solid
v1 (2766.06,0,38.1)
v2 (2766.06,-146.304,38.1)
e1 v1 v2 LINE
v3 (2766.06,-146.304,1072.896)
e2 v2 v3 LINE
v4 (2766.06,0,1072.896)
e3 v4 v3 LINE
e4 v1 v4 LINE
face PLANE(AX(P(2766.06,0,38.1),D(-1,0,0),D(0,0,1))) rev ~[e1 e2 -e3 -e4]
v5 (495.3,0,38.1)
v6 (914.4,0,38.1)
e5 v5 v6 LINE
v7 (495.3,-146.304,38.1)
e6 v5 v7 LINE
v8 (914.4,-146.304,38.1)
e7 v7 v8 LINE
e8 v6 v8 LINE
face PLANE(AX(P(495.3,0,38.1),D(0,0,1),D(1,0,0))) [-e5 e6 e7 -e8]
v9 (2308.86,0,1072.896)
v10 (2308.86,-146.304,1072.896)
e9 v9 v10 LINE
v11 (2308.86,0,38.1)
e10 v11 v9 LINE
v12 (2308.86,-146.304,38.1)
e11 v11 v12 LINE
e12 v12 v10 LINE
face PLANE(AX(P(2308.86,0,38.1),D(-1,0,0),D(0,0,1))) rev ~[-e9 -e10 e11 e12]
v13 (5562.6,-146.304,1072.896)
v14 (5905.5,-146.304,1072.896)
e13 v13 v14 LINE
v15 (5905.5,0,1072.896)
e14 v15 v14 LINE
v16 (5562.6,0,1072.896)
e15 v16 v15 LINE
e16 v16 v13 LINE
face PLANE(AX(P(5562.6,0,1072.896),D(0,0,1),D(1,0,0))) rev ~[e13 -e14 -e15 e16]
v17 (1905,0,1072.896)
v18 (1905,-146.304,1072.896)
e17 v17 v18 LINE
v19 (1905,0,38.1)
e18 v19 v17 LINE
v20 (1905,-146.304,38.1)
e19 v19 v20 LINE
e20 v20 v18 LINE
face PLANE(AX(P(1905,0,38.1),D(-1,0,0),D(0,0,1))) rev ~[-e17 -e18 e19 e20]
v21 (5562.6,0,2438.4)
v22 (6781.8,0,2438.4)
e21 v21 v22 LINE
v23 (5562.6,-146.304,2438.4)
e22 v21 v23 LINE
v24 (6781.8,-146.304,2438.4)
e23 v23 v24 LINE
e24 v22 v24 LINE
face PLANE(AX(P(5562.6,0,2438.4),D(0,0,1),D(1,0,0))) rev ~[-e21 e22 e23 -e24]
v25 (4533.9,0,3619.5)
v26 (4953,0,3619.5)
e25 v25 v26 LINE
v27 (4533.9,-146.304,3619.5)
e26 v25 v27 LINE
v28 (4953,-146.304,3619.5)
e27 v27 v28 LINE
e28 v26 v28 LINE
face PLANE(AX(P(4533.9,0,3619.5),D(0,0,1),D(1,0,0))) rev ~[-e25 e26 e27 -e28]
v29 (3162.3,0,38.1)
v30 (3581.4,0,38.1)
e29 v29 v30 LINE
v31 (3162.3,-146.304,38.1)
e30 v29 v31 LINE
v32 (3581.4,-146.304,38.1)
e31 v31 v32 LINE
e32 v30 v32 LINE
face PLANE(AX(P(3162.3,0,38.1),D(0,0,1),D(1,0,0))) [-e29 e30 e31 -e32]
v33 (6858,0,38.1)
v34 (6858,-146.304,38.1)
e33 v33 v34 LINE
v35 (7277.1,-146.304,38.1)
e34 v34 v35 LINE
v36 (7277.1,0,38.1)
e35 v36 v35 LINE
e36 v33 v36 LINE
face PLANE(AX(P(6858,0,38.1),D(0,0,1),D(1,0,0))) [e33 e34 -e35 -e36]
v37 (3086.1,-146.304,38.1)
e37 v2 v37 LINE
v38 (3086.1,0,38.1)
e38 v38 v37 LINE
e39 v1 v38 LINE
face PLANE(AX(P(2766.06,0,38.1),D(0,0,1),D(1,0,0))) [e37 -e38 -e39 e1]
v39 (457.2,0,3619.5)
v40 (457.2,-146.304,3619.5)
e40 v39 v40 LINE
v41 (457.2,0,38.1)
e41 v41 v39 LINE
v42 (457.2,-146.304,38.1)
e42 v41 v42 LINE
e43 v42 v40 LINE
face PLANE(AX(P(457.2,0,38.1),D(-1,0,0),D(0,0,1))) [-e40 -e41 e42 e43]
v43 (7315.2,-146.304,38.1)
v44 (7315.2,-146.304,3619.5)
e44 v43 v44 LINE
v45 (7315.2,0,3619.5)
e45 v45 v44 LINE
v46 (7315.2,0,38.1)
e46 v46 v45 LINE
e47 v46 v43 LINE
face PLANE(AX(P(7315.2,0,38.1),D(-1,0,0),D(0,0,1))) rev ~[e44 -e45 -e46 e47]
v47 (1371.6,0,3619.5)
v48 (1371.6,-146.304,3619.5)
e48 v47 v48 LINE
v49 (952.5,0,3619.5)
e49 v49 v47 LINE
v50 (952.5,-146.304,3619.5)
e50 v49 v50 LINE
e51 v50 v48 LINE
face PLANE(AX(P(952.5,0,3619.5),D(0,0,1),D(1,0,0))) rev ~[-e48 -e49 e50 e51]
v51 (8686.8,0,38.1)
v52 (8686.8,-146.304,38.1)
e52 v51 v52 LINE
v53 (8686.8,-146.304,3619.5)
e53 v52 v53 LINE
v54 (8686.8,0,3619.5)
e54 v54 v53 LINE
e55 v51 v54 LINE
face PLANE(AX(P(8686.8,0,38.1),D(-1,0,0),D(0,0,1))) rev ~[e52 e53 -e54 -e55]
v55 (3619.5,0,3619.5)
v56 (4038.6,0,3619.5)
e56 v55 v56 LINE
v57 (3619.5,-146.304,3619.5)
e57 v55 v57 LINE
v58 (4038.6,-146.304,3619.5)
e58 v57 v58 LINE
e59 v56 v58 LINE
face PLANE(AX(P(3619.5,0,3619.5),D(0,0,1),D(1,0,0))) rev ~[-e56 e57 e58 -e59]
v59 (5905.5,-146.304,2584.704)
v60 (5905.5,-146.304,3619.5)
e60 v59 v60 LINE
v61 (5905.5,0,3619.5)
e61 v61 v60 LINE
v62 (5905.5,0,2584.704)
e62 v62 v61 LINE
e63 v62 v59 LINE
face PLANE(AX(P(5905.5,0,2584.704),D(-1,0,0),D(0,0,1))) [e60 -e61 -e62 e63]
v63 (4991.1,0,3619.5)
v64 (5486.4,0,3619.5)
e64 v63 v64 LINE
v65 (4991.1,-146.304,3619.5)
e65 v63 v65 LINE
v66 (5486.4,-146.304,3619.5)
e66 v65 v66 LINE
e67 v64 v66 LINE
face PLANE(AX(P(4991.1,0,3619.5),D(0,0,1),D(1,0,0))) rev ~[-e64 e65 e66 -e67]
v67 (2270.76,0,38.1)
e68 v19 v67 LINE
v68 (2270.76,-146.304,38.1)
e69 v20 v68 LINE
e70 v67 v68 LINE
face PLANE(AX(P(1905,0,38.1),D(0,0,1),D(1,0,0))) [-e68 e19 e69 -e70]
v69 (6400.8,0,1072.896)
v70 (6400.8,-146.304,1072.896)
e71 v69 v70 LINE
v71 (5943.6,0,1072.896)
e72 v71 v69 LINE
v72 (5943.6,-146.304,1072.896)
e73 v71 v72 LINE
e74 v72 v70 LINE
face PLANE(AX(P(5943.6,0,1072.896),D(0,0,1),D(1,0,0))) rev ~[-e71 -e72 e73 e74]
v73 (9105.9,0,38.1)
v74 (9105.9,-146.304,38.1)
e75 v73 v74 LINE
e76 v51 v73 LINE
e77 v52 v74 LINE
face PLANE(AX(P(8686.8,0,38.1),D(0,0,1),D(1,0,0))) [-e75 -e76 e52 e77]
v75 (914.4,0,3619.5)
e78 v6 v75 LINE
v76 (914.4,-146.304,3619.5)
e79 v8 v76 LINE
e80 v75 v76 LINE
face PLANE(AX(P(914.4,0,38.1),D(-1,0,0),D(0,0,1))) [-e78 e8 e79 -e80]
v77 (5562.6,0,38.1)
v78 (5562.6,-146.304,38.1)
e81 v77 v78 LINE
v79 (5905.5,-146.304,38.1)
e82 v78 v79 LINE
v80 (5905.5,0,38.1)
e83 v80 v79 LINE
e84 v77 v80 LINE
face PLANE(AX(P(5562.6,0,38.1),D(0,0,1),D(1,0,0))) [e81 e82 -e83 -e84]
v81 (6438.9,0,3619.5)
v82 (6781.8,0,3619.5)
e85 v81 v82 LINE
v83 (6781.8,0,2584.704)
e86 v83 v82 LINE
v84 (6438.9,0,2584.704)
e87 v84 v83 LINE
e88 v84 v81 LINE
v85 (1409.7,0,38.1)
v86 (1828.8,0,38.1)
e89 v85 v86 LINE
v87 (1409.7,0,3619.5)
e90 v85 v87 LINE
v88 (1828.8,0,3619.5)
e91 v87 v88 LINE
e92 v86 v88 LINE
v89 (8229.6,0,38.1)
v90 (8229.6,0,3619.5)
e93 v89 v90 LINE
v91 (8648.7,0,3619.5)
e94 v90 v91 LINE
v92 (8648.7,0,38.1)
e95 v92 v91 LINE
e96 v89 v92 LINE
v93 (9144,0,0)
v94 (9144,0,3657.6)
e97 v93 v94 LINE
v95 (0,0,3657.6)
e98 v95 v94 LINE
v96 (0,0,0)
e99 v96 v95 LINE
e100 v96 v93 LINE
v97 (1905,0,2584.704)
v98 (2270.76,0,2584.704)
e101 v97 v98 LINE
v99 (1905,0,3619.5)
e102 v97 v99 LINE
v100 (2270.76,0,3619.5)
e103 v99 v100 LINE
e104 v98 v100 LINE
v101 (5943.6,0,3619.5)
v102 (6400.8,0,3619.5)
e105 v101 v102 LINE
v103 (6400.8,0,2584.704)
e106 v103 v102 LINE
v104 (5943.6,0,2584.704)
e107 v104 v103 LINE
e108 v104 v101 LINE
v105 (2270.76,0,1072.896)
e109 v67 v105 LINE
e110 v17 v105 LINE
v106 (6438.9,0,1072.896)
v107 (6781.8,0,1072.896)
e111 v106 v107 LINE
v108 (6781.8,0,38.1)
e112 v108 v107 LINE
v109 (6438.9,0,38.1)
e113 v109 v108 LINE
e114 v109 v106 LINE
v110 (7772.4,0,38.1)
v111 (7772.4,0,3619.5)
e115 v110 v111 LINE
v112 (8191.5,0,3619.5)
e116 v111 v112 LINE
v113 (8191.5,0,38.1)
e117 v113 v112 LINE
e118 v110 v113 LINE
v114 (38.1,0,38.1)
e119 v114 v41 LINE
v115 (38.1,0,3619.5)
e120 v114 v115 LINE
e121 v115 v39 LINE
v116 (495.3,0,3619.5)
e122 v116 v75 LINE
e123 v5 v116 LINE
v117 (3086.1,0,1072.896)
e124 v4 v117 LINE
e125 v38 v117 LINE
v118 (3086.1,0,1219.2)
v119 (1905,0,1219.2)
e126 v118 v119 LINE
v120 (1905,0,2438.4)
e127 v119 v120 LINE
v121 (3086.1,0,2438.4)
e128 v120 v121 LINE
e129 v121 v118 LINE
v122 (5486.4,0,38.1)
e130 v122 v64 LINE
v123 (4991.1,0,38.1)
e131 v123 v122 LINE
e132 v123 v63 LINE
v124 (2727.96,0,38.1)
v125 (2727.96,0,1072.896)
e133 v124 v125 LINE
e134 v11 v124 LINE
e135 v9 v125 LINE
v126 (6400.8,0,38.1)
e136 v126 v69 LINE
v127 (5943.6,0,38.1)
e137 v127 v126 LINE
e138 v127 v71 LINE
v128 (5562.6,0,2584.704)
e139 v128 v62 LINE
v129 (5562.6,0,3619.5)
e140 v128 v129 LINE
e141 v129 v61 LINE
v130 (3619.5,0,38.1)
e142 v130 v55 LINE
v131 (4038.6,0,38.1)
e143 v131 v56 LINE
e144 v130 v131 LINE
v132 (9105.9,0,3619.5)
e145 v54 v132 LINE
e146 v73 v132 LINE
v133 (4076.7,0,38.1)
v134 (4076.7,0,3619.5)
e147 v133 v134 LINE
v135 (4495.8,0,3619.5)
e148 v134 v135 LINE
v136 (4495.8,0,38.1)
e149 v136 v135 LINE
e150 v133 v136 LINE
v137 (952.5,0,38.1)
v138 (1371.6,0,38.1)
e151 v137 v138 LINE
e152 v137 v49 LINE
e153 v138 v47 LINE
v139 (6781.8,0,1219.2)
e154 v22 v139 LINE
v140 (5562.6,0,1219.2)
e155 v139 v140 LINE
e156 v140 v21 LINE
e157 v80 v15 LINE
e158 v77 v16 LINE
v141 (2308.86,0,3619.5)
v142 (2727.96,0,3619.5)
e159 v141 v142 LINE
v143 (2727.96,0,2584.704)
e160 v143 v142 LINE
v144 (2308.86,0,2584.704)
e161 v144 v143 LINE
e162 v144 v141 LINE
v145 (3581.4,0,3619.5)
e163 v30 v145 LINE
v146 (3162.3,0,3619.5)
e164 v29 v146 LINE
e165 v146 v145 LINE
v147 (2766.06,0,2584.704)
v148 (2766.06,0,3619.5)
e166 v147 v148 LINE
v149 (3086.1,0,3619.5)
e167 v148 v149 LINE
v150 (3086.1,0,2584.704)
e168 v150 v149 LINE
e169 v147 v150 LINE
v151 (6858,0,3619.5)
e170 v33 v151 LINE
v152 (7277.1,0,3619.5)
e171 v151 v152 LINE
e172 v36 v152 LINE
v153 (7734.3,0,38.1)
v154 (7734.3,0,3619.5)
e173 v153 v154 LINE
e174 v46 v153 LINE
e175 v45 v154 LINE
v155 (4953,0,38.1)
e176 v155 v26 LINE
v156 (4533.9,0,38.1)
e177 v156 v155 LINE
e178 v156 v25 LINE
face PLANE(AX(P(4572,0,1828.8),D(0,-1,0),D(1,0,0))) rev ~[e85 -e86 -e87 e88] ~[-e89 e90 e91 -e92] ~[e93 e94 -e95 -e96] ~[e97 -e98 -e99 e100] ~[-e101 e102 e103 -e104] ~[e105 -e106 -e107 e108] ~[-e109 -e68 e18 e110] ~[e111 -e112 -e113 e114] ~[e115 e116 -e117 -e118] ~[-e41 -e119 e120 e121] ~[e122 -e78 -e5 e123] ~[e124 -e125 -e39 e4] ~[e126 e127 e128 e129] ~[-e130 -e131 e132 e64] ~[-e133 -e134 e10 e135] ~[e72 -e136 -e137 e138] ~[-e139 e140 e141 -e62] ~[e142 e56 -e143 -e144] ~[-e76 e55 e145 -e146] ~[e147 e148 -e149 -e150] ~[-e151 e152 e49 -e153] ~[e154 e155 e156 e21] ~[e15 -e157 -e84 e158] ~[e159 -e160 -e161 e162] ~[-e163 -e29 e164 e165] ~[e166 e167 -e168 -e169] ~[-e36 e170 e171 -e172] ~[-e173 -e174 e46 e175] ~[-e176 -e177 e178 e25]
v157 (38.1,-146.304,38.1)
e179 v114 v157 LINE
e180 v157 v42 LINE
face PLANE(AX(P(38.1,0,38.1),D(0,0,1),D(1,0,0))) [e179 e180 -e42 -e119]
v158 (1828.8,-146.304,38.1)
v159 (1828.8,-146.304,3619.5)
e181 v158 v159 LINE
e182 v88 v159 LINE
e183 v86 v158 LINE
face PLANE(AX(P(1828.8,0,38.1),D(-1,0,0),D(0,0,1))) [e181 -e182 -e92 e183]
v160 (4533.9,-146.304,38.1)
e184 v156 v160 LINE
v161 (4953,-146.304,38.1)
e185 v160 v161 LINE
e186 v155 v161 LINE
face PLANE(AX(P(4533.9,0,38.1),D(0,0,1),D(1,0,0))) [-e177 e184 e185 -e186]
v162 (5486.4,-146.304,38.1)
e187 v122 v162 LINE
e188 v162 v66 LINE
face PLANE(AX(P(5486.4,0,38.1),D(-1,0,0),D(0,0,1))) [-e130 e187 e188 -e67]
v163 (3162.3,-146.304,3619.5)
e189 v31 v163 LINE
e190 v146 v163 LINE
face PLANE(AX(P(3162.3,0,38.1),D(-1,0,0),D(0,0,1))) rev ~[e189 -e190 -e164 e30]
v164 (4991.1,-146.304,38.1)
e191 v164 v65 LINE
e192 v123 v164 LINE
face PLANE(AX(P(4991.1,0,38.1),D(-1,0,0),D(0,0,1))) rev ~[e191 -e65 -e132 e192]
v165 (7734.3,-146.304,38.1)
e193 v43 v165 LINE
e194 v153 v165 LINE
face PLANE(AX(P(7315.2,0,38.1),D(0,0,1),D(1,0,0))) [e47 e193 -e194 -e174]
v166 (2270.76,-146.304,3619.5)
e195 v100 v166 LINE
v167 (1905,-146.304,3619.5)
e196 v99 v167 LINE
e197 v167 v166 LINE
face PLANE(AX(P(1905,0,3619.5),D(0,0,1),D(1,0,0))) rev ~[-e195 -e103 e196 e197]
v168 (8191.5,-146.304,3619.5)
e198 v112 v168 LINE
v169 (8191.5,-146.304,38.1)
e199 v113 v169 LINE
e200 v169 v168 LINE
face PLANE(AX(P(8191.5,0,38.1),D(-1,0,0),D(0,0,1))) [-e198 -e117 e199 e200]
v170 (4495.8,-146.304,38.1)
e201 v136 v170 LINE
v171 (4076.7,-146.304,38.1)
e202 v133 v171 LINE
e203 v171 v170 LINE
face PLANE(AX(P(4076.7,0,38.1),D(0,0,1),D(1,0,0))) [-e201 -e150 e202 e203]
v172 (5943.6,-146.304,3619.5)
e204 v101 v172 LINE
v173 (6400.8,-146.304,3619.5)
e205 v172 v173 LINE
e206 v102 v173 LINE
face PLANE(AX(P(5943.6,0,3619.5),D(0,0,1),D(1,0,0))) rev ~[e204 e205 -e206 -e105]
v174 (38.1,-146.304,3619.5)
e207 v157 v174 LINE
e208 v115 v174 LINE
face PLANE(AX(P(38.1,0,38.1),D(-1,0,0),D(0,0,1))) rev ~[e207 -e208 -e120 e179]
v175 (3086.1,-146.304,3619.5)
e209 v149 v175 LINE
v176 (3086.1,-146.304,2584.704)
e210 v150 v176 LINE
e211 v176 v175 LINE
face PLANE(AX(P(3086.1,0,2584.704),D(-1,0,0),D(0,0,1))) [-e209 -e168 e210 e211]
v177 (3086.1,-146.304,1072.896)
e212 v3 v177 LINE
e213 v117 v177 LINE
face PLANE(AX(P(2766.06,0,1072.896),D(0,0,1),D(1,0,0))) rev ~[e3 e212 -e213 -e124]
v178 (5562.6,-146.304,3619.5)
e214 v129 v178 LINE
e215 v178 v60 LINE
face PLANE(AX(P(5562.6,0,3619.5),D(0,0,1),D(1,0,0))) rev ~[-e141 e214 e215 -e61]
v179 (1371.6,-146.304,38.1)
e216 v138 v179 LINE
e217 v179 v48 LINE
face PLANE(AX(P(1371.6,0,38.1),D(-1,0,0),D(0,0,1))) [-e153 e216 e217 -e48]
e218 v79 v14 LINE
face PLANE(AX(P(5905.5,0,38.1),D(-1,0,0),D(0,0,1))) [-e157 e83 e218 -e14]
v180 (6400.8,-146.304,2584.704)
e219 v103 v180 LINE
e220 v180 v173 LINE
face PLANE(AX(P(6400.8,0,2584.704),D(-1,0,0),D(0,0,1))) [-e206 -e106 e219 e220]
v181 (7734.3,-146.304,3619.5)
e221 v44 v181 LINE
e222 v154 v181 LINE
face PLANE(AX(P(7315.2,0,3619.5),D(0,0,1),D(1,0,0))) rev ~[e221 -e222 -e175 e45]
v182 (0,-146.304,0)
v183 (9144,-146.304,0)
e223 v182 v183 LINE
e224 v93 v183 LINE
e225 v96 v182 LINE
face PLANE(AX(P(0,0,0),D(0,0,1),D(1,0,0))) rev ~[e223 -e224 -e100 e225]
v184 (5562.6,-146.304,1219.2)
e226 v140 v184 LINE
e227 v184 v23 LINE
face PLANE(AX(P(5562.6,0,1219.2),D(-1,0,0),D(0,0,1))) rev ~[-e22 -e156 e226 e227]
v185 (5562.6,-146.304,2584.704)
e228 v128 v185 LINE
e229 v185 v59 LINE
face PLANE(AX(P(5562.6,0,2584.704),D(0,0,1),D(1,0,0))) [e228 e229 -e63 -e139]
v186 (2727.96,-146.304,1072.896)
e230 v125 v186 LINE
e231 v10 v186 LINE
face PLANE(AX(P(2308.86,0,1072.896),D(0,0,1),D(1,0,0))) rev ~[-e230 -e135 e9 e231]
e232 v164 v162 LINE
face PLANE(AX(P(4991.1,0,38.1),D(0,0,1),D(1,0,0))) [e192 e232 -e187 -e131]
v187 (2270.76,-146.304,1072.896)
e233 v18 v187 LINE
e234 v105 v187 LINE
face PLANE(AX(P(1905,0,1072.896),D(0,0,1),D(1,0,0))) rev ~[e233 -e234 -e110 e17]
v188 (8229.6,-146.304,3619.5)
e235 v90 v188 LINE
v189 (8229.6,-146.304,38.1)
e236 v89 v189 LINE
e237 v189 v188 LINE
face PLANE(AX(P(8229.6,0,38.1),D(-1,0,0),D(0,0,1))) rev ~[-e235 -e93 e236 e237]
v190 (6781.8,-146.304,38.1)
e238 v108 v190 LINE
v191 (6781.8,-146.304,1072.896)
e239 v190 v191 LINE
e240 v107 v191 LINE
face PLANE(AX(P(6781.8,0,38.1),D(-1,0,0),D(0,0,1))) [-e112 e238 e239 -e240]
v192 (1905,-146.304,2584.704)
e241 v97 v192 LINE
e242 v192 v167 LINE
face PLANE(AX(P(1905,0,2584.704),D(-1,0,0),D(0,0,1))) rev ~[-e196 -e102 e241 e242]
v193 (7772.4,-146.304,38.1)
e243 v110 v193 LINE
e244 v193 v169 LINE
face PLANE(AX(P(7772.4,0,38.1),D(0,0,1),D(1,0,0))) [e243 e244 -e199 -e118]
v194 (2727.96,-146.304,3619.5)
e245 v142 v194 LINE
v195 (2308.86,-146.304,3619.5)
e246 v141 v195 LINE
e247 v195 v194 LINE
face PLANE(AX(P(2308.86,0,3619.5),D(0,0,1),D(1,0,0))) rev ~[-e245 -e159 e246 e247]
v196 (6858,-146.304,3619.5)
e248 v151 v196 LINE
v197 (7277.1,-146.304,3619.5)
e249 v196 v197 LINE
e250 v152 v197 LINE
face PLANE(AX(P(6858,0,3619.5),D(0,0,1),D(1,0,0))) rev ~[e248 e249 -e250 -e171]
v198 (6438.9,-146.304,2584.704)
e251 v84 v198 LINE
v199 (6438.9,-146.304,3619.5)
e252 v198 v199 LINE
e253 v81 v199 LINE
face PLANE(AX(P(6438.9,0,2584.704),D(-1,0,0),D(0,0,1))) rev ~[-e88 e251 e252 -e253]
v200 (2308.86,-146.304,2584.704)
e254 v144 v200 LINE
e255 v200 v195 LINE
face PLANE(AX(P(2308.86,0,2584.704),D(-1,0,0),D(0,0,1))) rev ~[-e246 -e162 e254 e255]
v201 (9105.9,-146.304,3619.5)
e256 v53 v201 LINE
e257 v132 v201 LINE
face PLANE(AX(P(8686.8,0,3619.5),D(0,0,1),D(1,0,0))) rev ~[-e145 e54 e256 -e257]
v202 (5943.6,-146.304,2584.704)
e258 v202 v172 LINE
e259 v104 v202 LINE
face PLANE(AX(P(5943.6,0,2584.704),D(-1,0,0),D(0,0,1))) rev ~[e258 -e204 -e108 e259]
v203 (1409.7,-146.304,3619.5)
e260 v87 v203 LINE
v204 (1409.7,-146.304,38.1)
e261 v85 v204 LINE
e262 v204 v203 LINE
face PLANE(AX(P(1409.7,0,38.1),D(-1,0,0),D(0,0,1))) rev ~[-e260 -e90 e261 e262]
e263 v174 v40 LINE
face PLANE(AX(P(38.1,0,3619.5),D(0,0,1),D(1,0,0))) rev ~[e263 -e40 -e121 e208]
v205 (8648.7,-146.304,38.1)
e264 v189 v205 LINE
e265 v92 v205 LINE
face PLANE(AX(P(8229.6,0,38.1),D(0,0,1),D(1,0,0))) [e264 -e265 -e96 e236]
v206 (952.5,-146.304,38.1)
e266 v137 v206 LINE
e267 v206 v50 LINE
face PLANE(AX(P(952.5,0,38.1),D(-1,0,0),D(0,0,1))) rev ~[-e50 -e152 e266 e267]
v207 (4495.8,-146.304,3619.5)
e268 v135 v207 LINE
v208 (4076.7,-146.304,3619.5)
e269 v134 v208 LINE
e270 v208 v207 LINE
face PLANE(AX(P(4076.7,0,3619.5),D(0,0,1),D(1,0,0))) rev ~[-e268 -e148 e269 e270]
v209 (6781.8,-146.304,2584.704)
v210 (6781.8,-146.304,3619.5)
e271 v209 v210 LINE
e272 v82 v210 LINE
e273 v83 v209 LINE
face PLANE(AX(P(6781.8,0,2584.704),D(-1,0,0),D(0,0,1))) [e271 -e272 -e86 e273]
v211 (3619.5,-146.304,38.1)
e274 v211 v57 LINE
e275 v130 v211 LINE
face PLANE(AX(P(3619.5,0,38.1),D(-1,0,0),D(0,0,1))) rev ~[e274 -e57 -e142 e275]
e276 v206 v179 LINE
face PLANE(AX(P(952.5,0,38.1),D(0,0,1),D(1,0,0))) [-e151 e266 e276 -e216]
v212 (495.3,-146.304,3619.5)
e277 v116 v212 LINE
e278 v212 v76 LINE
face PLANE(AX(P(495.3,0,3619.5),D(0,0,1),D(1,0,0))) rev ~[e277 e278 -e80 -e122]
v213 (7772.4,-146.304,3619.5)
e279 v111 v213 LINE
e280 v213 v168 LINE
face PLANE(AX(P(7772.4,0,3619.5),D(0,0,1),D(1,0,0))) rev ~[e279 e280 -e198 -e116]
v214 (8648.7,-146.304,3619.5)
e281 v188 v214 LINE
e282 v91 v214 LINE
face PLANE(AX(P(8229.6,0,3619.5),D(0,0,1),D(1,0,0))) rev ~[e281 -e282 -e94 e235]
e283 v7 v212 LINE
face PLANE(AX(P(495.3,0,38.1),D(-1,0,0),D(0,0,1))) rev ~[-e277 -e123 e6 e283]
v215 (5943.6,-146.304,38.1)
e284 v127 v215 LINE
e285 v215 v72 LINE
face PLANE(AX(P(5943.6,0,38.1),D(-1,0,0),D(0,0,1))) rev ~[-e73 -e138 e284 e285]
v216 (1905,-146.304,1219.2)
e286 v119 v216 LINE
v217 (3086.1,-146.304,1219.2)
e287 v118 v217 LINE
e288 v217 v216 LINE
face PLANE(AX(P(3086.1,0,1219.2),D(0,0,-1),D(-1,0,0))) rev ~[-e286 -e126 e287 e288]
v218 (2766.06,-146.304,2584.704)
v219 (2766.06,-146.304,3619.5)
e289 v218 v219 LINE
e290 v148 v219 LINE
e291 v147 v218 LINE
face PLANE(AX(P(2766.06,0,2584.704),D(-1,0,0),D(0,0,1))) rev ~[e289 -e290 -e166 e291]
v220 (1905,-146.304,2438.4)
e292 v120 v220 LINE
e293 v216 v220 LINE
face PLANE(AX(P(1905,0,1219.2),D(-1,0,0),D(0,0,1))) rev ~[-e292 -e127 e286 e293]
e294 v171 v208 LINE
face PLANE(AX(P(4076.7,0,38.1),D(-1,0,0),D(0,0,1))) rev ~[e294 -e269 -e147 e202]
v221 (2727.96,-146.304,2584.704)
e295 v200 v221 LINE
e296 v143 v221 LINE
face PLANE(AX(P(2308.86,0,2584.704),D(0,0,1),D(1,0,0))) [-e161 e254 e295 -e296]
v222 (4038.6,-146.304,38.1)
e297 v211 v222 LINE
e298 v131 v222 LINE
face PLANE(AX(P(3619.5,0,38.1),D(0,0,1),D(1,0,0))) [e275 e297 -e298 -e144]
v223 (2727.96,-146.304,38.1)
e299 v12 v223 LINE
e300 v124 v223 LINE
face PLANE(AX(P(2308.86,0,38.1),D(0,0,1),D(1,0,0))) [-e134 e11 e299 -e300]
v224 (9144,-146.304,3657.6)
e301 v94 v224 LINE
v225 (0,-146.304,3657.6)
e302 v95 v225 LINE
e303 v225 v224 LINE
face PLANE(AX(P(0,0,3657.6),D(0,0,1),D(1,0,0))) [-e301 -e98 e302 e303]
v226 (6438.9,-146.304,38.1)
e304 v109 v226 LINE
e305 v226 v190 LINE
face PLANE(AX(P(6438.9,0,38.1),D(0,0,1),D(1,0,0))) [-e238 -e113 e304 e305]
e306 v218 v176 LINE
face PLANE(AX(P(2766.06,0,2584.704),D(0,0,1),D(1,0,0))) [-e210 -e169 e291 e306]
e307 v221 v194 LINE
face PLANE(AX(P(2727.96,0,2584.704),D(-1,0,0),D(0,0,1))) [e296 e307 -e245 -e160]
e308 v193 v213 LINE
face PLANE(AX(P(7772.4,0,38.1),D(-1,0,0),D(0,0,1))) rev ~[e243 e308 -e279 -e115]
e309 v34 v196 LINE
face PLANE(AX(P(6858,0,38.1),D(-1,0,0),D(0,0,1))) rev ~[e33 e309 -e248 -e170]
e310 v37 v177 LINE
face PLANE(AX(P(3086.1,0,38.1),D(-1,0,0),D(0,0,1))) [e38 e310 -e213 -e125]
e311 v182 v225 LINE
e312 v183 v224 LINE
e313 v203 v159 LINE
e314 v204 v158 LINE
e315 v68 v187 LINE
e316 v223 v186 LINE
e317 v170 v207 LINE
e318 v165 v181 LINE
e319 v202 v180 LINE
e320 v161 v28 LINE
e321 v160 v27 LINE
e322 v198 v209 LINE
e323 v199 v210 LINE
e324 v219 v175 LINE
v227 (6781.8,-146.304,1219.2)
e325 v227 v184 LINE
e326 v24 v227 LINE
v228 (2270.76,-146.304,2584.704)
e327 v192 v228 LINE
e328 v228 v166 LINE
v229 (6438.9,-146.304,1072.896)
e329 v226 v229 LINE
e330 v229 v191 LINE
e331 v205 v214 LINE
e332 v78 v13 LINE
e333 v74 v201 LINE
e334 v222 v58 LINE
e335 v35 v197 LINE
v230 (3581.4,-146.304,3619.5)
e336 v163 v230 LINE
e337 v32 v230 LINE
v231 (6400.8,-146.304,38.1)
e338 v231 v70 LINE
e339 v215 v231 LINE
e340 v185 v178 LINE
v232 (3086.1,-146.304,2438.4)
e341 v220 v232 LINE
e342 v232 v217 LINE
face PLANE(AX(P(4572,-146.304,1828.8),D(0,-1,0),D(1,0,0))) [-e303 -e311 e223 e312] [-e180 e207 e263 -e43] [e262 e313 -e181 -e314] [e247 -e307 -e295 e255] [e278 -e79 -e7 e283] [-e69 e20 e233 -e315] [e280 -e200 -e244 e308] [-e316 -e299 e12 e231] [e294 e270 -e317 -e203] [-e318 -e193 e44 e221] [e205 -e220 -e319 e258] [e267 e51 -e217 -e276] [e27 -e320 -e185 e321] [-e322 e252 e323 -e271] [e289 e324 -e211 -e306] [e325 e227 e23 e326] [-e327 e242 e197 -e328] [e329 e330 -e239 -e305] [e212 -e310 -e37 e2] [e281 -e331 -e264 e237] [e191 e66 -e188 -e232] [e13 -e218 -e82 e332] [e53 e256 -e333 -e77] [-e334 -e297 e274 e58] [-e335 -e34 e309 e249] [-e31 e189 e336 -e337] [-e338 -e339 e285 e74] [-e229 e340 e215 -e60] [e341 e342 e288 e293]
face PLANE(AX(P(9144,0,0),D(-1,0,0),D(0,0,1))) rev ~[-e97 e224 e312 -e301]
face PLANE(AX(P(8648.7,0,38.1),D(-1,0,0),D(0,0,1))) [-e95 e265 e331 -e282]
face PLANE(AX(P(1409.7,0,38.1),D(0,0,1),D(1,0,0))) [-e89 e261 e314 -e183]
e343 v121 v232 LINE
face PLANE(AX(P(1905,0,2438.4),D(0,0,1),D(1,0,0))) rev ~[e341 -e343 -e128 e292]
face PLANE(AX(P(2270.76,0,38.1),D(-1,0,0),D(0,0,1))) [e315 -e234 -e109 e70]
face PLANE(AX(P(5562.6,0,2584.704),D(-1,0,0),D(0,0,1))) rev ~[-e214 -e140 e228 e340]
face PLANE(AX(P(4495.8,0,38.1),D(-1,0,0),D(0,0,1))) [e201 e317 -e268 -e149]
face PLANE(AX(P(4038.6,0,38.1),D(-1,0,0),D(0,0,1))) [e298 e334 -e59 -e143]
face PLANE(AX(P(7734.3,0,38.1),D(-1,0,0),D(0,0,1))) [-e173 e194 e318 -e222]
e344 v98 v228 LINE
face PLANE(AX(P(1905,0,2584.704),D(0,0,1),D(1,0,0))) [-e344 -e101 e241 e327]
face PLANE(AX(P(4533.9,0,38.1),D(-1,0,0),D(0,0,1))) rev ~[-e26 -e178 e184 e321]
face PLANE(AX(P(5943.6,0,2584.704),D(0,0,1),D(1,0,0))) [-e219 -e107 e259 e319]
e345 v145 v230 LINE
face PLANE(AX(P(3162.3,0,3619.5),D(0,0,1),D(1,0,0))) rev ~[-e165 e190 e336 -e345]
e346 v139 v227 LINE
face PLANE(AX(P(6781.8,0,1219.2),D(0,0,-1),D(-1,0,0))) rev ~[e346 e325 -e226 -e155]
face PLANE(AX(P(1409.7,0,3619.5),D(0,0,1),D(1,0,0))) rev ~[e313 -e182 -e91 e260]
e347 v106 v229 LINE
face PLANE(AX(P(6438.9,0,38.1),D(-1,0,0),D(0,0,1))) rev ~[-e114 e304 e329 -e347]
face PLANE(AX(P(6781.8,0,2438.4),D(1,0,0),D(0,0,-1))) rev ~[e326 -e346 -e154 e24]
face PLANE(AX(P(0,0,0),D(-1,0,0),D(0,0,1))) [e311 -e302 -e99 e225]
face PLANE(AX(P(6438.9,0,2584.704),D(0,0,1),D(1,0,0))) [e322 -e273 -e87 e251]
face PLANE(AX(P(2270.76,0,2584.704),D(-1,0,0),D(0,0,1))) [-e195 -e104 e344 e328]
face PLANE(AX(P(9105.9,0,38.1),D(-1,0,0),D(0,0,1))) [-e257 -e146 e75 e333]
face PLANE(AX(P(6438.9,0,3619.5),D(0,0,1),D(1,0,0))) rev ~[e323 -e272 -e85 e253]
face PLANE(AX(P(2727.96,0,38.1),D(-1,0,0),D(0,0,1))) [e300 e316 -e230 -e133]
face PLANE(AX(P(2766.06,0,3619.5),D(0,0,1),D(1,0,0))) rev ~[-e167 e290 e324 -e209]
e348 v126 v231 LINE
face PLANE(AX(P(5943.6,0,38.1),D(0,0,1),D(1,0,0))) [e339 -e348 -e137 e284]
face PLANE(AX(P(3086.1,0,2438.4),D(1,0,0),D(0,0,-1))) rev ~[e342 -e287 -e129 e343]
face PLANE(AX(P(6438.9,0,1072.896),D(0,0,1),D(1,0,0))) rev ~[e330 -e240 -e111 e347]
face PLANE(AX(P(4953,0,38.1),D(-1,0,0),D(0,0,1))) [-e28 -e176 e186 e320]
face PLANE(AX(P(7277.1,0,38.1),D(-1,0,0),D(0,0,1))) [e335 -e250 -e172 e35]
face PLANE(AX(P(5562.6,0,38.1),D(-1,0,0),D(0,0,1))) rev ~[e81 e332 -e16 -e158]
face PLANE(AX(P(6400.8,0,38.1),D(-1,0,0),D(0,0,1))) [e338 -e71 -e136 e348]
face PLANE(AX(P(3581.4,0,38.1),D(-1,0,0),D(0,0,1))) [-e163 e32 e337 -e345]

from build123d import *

# Parameters (mm, degrees)
F0_W     = 9144
F0_H     = 3657.6
F0_W_2   = 365.76
F0_H_2   = 1034.796
F0_W_3   = 419.1
F0_W_4   = 320.04
F0_W_5   = 342.9
F0_W_6   = 457.2
F0_H_3   = 3581.4
F0_W_7   = 495.3
F1_DEPTH = 146.304


with BuildPart() as f1:
    # F0 (on Front) → F1 (new body)
    with BuildSketch(Plane.XZ):
        with Locations((4572, 1828.8)):
            Rectangle(F0_W, F0_H)
        with Locations((2087.88, 555.498)):
            Rectangle(F0_W_2, F0_H_2, mode=Mode.SUBTRACT)
        with Locations((2518.41, 555.498)):
            Rectangle(F0_W_3, F0_H_2, mode=Mode.SUBTRACT)
        with Locations((2926.08, 555.498)):
            Rectangle(F0_W_4, F0_H_2, mode=Mode.SUBTRACT)
        with Locations((5734.05, 555.498)):
            Rectangle(F0_W_5, F0_H_2, mode=Mode.SUBTRACT)
        with Locations((6172.2, 555.498)):
            Rectangle(F0_W_6, F0_H_2, mode=Mode.SUBTRACT)
        with Locations((6610.35, 555.498)):
            Rectangle(F0_W_5, F0_H_2, mode=Mode.SUBTRACT)
        with Locations((247.65, 1828.8)):
            Rectangle(F0_W_3, F0_H_3, mode=Mode.SUBTRACT)
        with Locations((704.85, 1828.8)):
            Rectangle(F0_W_3, F0_H_3, mode=Mode.SUBTRACT)
        with Locations((1162.05, 1828.8)):
            Rectangle(F0_W_3, F0_H_3, mode=Mode.SUBTRACT)
        with Locations((1619.25, 1828.8)):
            Rectangle(F0_W_3, F0_H_3, mode=Mode.SUBTRACT)
        Polygon((1905, 1219.2), (1905, 2438.4), (2270.76, 2438.4), (2727.96, 2438.4), (2766.06, 2438.4), (3086.1, 2438.4), (3086.1, 1219.2), (2766.06, 1219.2), (2727.96, 1219.2), (2308.86, 1219.2), align=None, mode=Mode.SUBTRACT)
        with Locations((3371.85, 1828.8)):
            Rectangle(F0_W_3, F0_H_3, mode=Mode.SUBTRACT)
        with Locations((3829.05, 1828.8)):
            Rectangle(F0_W_3, F0_H_3, mode=Mode.SUBTRACT)
        with Locations((4286.25, 1828.8)):
            Rectangle(F0_W_3, F0_H_3, mode=Mode.SUBTRACT)
        with Locations((2087.88, 3102.102)):
            Rectangle(F0_W_2, F0_H_2, mode=Mode.SUBTRACT)
        with Locations((2518.41, 3102.102)):
            Rectangle(F0_W_3, F0_H_2, mode=Mode.SUBTRACT)
        with Locations((2926.08, 3102.102)):
            Rectangle(F0_W_4, F0_H_2, mode=Mode.SUBTRACT)
        with Locations((4743.45, 1828.8)):
            Rectangle(F0_W_3, F0_H_3, mode=Mode.SUBTRACT)
        with Locations((5238.75, 1828.8)):
            Rectangle(F0_W_7, F0_H_3, mode=Mode.SUBTRACT)
        Polygon((5562.6, 2438.4), (5852.16, 2438.4), (5890.26, 2438.4), (6781.8, 2438.4), (6781.8, 1219.2), (5562.6, 1219.2), align=None, mode=Mode.SUBTRACT)
        with Locations((7067.55, 1828.8)):
            Rectangle(F0_W_3, F0_H_3, mode=Mode.SUBTRACT)
        with Locations((7524.75, 1828.8)):
            Rectangle(F0_W_3, F0_H_3, mode=Mode.SUBTRACT)
        with Locations((7981.95, 1828.8)):
            Rectangle(F0_W_3, F0_H_3, mode=Mode.SUBTRACT)
        with Locations((8439.15, 1828.8)):
            Rectangle(F0_W_3, F0_H_3, mode=Mode.SUBTRACT)
        with Locations((8896.35, 1828.8)):
            Rectangle(F0_W_3, F0_H_3, mode=Mode.SUBTRACT)
        with Locations((5734.05, 3102.102)):
            Rectangle(F0_W_5, F0_H_2, mode=Mode.SUBTRACT)
        with Locations((6172.2, 3102.102)):
            Rectangle(F0_W_6, F0_H_2, mode=Mode.SUBTRACT)
        with Locations((6610.35, 3102.102)):
            Rectangle(F0_W_5, F0_H_2, mode=Mode.SUBTRACT)
    extrude(amount=F1_DEPTH)


solid = f1.part
